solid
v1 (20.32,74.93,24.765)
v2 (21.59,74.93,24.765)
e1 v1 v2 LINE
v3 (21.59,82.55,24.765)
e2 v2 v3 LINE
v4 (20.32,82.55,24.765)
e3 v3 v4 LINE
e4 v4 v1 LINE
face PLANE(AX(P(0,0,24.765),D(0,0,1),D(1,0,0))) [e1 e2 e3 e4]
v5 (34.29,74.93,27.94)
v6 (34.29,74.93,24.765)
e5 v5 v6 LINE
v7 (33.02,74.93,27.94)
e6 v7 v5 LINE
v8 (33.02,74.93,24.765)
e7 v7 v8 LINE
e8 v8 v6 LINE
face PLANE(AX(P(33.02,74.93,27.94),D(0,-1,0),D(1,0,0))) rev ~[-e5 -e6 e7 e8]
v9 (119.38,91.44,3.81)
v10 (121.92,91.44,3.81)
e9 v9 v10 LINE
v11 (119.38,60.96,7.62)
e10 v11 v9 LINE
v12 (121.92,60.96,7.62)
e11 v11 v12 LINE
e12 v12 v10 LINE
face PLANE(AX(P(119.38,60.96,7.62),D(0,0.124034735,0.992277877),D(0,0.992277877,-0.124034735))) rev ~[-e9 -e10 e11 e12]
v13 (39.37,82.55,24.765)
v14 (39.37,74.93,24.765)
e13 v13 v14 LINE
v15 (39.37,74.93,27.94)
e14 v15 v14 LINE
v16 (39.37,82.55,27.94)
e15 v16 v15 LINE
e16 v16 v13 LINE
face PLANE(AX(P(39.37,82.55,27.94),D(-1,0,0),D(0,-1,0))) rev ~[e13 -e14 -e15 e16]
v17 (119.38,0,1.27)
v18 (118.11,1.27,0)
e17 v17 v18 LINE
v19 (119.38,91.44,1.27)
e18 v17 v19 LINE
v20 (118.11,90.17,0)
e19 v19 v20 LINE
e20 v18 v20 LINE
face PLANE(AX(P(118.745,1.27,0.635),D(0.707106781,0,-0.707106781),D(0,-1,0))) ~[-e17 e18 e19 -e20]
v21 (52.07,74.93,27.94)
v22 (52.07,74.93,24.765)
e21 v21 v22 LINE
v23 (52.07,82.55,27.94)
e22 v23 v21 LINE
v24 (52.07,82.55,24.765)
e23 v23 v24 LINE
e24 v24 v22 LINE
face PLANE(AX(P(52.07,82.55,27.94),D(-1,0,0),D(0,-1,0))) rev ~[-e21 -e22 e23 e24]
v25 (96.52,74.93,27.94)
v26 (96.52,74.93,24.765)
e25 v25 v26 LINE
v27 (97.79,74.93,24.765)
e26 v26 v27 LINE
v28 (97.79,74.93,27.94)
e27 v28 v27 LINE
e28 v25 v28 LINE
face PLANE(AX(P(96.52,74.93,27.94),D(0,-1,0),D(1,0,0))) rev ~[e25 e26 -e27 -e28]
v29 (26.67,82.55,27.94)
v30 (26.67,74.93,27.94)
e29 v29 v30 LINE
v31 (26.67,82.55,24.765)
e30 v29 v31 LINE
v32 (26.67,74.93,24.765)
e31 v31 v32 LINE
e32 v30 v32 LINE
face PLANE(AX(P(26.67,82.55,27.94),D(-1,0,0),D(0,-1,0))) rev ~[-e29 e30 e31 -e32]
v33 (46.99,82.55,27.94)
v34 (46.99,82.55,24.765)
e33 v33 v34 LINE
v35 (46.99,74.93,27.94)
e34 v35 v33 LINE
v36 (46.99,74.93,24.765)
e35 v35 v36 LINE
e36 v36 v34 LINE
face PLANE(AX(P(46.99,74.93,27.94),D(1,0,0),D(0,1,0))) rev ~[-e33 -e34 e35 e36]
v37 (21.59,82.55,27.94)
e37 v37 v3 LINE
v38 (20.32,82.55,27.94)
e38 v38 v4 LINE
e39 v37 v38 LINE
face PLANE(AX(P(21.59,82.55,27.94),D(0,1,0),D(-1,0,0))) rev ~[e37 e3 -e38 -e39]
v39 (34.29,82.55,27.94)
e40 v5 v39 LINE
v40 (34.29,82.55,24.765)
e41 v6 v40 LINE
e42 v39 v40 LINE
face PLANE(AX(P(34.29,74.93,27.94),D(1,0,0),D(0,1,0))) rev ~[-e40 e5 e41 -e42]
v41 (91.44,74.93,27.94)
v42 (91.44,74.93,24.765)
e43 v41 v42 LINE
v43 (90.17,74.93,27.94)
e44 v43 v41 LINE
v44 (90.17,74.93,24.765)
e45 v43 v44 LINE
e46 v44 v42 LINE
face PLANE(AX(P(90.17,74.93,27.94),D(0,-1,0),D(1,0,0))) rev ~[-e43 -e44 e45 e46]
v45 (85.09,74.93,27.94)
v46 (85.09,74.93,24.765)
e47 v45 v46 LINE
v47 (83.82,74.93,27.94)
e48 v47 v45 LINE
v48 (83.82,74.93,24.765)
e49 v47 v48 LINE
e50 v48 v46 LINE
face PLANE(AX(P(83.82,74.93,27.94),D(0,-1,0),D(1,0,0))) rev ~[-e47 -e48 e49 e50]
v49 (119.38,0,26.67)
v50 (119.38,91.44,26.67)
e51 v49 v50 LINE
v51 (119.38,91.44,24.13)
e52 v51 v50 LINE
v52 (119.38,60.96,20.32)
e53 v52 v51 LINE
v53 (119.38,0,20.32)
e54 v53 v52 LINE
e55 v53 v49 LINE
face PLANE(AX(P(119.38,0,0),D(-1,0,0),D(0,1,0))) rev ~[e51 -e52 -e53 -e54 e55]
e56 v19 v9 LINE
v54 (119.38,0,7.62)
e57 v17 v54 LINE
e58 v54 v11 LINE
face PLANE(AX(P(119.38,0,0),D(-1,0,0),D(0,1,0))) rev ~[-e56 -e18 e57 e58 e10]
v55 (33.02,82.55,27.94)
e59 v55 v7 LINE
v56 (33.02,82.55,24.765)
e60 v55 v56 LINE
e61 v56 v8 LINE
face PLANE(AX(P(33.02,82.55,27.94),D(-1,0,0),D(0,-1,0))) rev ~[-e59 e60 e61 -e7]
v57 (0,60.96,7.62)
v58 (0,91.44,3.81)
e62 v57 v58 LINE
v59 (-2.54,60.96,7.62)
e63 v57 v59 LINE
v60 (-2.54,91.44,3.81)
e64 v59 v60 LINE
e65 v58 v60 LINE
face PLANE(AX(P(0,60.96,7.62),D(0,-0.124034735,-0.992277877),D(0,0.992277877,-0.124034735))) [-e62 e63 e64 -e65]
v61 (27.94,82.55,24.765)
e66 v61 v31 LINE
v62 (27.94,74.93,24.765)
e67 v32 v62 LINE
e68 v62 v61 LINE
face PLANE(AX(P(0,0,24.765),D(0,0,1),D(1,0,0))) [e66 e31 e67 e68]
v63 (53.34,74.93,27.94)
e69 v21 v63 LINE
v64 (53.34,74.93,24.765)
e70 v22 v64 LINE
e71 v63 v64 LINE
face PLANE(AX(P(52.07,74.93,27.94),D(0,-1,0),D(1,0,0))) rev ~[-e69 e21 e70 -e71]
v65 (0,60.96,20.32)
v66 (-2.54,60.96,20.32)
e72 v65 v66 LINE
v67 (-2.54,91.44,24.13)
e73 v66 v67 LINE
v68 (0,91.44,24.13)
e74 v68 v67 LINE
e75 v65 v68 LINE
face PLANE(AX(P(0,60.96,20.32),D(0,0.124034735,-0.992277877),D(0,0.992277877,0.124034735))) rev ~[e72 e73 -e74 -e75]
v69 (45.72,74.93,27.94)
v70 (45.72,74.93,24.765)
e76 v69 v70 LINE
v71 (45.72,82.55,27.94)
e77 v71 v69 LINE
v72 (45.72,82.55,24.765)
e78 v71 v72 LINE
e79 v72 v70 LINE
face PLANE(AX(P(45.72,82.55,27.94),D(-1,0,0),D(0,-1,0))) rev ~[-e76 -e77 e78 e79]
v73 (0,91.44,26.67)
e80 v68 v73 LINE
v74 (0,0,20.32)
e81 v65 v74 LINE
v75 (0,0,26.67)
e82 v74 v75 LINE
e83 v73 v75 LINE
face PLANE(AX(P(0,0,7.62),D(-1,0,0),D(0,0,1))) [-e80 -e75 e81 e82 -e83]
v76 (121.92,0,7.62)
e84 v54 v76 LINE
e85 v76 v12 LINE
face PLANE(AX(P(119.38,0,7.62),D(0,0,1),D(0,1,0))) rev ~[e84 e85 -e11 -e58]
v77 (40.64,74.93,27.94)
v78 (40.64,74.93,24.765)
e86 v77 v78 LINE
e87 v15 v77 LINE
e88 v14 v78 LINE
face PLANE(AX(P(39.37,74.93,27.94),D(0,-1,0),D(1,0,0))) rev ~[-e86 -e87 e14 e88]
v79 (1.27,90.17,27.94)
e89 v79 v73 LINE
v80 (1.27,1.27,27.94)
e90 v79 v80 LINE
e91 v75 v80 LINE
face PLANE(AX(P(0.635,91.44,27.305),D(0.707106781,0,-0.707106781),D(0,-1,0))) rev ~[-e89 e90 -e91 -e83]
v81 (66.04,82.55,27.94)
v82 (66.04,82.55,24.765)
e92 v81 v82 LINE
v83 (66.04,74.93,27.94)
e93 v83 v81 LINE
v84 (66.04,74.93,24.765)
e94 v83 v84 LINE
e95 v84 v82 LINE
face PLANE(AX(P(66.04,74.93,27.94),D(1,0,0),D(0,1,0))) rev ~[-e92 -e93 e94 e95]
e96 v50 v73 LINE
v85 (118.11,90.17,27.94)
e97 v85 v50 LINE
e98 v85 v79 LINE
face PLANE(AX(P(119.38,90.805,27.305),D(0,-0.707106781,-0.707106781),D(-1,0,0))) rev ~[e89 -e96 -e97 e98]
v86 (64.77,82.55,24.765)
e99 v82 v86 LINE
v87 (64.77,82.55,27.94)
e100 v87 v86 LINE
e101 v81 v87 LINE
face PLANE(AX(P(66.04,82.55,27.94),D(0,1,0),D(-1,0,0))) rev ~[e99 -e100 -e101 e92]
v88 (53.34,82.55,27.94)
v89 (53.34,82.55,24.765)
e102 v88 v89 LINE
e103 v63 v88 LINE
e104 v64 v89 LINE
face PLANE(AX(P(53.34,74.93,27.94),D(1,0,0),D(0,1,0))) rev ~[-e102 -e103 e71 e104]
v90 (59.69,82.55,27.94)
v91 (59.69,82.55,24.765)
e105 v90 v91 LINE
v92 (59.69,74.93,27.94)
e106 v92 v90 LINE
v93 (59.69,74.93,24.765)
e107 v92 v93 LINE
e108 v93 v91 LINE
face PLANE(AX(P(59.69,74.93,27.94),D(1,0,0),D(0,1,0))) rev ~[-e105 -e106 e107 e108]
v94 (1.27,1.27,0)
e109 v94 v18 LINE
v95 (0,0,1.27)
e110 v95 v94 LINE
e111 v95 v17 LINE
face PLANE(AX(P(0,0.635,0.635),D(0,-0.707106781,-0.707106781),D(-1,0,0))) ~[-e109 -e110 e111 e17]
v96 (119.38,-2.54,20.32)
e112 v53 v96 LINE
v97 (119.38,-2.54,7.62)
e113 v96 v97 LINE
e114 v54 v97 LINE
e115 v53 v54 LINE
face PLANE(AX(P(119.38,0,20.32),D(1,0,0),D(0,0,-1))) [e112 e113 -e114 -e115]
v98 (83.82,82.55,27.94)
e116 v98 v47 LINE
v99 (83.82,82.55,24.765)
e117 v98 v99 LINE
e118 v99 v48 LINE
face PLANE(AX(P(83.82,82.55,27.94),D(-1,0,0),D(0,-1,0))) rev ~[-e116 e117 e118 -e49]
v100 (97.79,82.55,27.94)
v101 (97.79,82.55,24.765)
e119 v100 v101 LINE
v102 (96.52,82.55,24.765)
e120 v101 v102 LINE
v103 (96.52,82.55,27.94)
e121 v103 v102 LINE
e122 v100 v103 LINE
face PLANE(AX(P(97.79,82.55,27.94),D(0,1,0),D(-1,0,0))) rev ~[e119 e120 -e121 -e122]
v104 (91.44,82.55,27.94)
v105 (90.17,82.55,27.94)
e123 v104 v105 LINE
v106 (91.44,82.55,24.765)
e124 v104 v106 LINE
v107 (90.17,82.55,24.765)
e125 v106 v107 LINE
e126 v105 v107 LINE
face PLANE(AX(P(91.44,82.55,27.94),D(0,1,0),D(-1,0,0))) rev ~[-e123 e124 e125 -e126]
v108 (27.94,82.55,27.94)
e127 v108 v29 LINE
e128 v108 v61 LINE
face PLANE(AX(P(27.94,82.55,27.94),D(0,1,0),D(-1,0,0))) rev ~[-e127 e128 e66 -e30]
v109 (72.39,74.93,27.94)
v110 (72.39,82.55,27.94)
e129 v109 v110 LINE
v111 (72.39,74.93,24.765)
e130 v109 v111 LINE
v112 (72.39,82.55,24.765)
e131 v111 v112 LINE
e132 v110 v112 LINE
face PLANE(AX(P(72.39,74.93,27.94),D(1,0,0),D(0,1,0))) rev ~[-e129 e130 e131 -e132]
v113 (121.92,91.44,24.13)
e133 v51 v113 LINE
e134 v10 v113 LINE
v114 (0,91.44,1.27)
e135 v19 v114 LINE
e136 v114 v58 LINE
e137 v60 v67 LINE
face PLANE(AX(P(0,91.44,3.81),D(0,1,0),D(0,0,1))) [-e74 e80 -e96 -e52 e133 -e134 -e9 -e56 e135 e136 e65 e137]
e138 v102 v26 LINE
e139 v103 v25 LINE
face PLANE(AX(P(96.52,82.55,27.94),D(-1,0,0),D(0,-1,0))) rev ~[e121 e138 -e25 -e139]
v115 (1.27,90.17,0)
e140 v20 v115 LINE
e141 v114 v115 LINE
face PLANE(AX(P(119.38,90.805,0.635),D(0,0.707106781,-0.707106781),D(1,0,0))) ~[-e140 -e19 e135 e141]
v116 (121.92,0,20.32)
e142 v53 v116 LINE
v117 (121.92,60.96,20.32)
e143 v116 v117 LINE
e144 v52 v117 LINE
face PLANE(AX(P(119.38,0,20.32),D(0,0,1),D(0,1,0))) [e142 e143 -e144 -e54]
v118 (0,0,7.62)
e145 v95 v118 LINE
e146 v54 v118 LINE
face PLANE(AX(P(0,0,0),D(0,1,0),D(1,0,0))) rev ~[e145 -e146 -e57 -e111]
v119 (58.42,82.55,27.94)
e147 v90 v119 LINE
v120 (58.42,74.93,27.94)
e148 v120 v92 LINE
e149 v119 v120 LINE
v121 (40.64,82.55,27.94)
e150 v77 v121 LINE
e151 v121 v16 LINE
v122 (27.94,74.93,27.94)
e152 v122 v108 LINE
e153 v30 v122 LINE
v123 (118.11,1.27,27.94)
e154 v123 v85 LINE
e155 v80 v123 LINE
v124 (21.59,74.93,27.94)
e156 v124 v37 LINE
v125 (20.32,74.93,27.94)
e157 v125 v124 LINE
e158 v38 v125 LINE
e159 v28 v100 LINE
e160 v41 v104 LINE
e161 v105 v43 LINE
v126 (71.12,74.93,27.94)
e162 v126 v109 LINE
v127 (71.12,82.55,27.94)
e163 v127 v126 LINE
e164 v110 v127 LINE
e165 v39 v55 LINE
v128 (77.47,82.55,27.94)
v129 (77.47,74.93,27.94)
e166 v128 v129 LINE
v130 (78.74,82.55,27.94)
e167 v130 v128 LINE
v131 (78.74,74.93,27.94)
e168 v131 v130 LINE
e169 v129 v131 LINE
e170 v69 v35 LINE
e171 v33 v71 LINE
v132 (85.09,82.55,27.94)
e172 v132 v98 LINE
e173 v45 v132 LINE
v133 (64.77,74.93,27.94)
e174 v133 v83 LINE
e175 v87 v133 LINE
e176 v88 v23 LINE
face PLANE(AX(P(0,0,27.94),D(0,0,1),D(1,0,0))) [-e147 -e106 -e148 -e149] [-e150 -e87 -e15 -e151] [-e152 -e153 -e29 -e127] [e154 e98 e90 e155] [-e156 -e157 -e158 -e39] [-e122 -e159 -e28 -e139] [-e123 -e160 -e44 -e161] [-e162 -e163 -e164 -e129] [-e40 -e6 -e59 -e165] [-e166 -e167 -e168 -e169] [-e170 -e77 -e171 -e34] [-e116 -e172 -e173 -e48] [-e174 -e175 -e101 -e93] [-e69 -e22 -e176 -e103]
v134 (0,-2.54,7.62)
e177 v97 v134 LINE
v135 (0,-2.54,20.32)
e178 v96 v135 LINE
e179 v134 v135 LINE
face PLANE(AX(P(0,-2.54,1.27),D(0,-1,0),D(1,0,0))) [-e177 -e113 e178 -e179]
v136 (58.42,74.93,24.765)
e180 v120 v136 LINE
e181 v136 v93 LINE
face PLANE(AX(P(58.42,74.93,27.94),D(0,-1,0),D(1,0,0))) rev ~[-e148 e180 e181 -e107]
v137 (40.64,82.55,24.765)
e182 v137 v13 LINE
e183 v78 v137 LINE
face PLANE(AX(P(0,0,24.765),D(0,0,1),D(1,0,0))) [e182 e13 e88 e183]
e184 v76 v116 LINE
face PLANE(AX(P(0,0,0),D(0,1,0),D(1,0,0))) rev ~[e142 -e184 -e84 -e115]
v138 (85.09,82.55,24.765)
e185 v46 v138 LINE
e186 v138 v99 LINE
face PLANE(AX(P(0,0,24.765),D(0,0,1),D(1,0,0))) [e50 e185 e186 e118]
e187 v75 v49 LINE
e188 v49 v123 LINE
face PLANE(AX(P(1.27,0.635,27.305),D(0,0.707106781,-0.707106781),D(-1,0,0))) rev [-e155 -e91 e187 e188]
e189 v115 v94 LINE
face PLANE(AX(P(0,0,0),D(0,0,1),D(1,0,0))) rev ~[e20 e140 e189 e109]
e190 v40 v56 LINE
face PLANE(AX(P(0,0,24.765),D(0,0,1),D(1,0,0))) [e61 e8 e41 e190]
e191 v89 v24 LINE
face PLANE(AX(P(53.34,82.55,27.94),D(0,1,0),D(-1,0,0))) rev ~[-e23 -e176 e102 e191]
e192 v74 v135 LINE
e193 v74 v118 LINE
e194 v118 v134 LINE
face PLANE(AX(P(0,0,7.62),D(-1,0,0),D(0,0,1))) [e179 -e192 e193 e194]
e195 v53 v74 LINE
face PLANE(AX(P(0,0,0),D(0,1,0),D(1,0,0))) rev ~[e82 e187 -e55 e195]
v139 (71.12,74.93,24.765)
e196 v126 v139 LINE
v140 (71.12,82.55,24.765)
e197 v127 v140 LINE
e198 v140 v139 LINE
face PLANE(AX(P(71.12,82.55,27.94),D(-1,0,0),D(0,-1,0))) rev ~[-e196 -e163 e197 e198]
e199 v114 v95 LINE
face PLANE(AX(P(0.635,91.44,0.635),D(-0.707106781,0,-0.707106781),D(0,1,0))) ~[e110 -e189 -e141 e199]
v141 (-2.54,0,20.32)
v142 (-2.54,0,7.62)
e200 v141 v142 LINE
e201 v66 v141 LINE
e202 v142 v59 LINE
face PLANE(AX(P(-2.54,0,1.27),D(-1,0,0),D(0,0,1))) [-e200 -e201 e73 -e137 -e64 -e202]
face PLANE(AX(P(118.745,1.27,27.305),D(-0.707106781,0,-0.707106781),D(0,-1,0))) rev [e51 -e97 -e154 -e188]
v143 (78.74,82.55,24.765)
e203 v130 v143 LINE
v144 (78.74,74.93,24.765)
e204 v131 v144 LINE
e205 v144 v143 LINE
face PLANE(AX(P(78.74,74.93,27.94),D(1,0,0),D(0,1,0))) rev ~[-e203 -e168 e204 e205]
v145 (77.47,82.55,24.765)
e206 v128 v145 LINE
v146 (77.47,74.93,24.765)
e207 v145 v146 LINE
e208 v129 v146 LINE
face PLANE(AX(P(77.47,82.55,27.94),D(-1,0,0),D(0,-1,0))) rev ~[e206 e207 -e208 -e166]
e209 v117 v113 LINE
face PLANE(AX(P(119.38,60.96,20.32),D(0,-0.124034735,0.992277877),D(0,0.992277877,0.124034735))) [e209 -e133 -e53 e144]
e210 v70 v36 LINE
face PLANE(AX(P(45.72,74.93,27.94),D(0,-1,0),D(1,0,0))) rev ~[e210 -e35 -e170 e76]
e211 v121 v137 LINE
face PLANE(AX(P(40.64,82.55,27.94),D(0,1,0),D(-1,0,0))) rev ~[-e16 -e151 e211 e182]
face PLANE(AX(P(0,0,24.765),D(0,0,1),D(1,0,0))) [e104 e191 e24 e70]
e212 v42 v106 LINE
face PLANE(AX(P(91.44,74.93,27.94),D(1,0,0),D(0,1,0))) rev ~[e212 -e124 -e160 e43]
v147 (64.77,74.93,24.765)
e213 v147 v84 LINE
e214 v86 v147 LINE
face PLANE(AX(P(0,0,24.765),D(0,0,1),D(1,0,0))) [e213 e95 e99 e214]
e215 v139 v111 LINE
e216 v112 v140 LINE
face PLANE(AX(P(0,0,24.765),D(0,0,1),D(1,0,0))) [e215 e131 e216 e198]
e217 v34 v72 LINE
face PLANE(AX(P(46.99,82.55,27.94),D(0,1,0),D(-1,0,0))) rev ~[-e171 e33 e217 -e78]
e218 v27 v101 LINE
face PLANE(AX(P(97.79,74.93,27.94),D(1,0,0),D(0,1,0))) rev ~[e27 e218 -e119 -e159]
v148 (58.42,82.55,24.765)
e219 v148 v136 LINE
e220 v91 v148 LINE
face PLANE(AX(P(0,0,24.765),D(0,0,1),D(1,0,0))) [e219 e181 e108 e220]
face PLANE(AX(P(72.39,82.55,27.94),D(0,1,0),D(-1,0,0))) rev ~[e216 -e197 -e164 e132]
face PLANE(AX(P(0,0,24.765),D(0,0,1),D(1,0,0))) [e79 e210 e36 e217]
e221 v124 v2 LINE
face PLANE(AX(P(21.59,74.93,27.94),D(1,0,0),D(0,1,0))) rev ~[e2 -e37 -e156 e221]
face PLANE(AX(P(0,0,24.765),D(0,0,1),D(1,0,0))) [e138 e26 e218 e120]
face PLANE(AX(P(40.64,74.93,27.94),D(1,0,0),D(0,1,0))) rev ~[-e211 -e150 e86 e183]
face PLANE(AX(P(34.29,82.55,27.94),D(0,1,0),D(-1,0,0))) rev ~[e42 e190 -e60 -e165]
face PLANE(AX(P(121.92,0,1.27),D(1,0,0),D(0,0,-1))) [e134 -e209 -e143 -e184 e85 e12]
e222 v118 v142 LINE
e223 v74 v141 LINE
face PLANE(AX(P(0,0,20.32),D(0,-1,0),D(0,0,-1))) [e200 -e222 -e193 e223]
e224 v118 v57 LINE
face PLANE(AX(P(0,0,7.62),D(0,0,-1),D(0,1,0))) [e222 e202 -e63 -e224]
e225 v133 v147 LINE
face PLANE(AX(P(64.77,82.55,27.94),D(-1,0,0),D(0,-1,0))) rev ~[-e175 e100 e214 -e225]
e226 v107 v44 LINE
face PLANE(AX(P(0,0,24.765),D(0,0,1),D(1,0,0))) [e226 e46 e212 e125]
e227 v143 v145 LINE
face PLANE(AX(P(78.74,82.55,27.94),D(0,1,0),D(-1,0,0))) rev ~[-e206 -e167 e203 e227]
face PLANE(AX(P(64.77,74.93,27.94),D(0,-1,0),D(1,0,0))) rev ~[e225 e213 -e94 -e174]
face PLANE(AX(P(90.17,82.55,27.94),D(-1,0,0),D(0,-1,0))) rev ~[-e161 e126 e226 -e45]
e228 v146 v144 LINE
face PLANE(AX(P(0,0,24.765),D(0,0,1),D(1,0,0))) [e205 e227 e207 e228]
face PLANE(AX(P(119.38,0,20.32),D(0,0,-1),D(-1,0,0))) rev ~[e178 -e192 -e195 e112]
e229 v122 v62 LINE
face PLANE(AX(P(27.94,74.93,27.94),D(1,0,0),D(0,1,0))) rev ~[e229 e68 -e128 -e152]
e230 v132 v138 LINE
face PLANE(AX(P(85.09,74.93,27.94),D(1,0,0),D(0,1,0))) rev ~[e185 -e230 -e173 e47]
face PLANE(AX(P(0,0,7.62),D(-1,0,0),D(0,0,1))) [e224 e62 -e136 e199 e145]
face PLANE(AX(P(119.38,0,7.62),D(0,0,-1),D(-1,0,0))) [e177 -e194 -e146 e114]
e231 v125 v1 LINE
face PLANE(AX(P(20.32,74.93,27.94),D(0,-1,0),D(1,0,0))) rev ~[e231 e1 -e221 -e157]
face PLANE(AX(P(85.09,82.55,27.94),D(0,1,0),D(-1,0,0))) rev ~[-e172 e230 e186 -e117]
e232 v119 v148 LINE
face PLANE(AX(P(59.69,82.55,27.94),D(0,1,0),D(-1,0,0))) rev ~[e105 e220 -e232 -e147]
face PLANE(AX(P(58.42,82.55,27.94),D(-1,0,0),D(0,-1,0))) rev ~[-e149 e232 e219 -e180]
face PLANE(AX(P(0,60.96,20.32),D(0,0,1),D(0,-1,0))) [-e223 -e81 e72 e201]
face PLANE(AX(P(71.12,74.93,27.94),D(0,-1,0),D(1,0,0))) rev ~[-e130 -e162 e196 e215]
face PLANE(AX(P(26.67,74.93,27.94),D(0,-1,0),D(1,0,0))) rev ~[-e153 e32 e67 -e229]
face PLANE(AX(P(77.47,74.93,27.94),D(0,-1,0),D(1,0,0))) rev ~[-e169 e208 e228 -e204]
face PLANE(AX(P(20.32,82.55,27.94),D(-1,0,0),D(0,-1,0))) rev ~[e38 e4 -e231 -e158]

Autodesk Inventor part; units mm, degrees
ref_plane "YZ Plane" through (0, 0, 0) normal (1, 0, 0) x (0, 1, 0)
ref_plane "XZ Plane" through (0, 0, 0) normal (0, 1, 0) x (-1, 0, 0)
ref_plane "XY Plane" through (0, 0, 0) normal (0, 0, 1) x (1, 0, 0)
sketch "Sketch1" plane through (0, 0, 0) normal (0, 0, 1) x (1, 0, 0)
  line L0 (0, 0) -> (119.38, 0)
  line L1 (119.38, 0) -> (119.38, 91.44)
  line L2 (119.38, 91.44) -> (0, 91.44)
  line L3 (0, 91.44) -> (0, 0)
  dimension "d0" = 119.38
  dimension "d1" = 91.44
extrude "Extrusion1" add sketch "Sketch1" along normal blind 27.94
chamfer "Chamfer1" distance 1.27 angle 45 1 edges at (59.69, 0, 0)
chamfer "Chamfer2" distance 1.27 angle 45 1 edges at (0, 46.355, 0)
chamfer "Chamfer3" distance 1.27 angle 45 1 edges at (60.325, 91.44, 0)
chamfer "Chamfer4" distance 1.27 angle 45 1 edges at (119.38, 45.72, 0)
chamfer "Chamfer5" distance 1.27 angle 45 1 edges at (0, 45.72, 27.94)
chamfer "Chamfer6" distance 1.27 angle 45 1 edges at (60.325, 0, 27.94)
chamfer "Chamfer7" distance 1.27 angle 45 2 edges at (60.325, 91.44, 27.94) (119.38, 46.355, 27.94)
sketch "Sketch2" plane through (119.38, 0, 1.27) normal (1, 0, 0) x (0, 0, -1)
  line L0 (-25.4, 0) -> (-25.4, 91.44) projected
  line L1 (0, 0) -> (-25.4, 0) projected
  line L2 (-19.05, 0) -> (-19.05, 60.96)
  line L3 (-6.35, 0) -> (-6.35, 60.96)
  line L4 (-19.05, 0) -> (-6.35, 0)
  line L5 (-19.05, 60.96) -> (-22.86, 91.44)
  line L6 (0, 91.44) -> (-25.4, 91.44) projected
  line L7 (-6.35, 60.96) -> (-2.54, 91.44)
  line L8 (-22.86, 91.44) -> (-2.54, 91.44)
  dimension "d25" = 60.96
  dimension "d26" = 60.96
  dimension "d27" = 12.7
  dimension "d28" = 6.35
  dimension "d29" = 20.32
  dimension "d30" = 2.54
extrude "Extrusion2" add sketch "Sketch2" along normal blind 2.54 contours L2 L5 L6 L7 L3 L1
sketch "Sketch3" plane through (0, 0, 1.27) normal (0, -1, 0) x (1, 0, 0)
  line L0 (0, 0) -> (0, 25.4) projected
  line L1 (119.38, 19.05) -> (0, 19.05)
  line L2 (119.38, 6.35) -> (0, 6.35)
  line L3 (0, 19.05) -> (0, 6.35)
  line L4 (119.38, 19.05) -> (119.38, 6.35)
extrude "Extrusion3" add sketch "Sketch3" along normal blind 2.54
sketch "Sketch4" plane through (0, 0, 1.27) normal (-1, 0, 0) x (0, 0, 1)
  line L0 (25.4, 91.44) -> (25.4, 0) projected
  line L1 (0, 91.44) -> (25.4, 91.44) projected
  line L2 (0, 0) -> (0, 91.44) projected
  line L3 (0, 0) -> (6.35, 0) projected
  line L4 (6.35, 0) -> (6.35, -2.54) projected
  line L5 (19.05, -2.54) -> (6.35, -2.54) projected
  line L6 (19.05, 0) -> (19.05, -2.54) projected
  line L7 (19.05, 0) -> (25.4, 0) projected
sketch "Sketch5" plane through (121.92, 0, 1.27) normal (1, 0, 0) x (0, 0, -1)
  line L0 (-2.54, 91.44) -> (-22.86, 91.44) projected
  line L1 (-22.86, 91.44) -> (-19.05, 60.96) projected
  line L2 (-19.05, 60.96) -> (-19.05, 0) projected
  line L3 (-19.05, 0) -> (-6.35, 0) projected
  line L4 (-6.35, 0) -> (-6.35, 60.96) projected
  line L5 (-6.35, 60.96) -> (-2.54, 91.44) projected
sketch "Sketch6" plane through (0, 0, 1.27) normal (-1, 0, 0) x (0, 0, 1)
  line L0 (25.4, 91.44) -> (25.4, 0) projected
  line L1 (0, 91.44) -> (25.4, 91.44) projected
  line L2 (19.05, -2.54) -> (6.35, -2.54) projected
  line L3 (6.35, 0) -> (6.35, 60.96)
  line L4 (6.35, 0) -> (6.35, 60.96) projected
  line L5 (19.05, 60.96) -> (19.05, 0)
  line L6 (19.05, 0) -> (6.35, 0)
  line L7 (6.35, 60.96) -> (2.54, 91.44)
  line L8 (2.54, 91.44) -> (6.35, 60.96) projected
  line L9 (19.05, 60.96) -> (22.86, 91.44)
  line L10 (2.54, 91.44) -> (22.86, 91.44)
  dimension "d35" = 60.96
  dimension "d36" = 2.54
  dimension "d37" = 6.35
extrude "Extrusion4" add sketch "Sketch6" along normal blind 2.54
sketch "Sketch7" plane through (0, 0, 27.94) normal (0, 0, 1) x (1, 0, 0)
  line L0 (1.27, 90.17) -> (118.11, 90.17) projected
  line L1 (20.32, 82.55) -> (20.32, 74.93)
  line L2 (20.32, 74.93) -> (21.59, 74.93)
  line L3 (21.59, 74.93) -> (21.59, 82.55)
  line L4 (21.59, 82.55) -> (20.32, 82.55)
  line L5 (0, 91.44) -> (0, 0) projected
  line L6 (26.67, 82.55) -> (26.67, 74.93)
  line L7 (26.67, 74.93) -> (27.94, 74.93)
  line L8 (27.94, 74.93) -> (27.94, 82.55)
  line L9 (27.94, 82.55) -> (26.67, 82.55)
  line L10 (33.02, 82.55) -> (33.02, 74.93)
  line L11 (33.02, 74.93) -> (34.29, 74.93)
  line L12 (34.29, 74.93) -> (34.29, 82.55)
  line L13 (34.29, 82.55) -> (33.02, 82.55)
  line L14 (39.37, 82.55) -> (39.37, 74.93)
  line L15 (39.37, 74.93) -> (40.64, 74.93)
  line L16 (40.64, 74.93) -> (40.64, 82.55)
  line L17 (40.64, 82.55) -> (39.37, 82.55)
  line L18 (45.72, 82.55) -> (45.72, 74.93)
  line L19 (45.72, 74.93) -> (46.99, 74.93)
  line L20 (46.99, 74.93) -> (46.99, 82.55)
  line L21 (46.99, 82.55) -> (45.72, 82.55)
  line L22 (52.07, 82.55) -> (52.07, 74.93)
  line L23 (52.07, 74.93) -> (53.34, 74.93)
  line L24 (53.34, 74.93) -> (53.34, 82.55)
  line L25 (53.34, 82.55) -> (52.07, 82.55)
  line L26 (58.42, 82.55) -> (58.42, 74.93)
  line L27 (58.42, 74.93) -> (59.69, 74.93)
  line L28 (59.69, 74.93) -> (59.69, 82.55)
  line L29 (59.69, 82.55) -> (58.42, 82.55)
  line L30 (64.77, 82.55) -> (64.77, 74.93)
  line L31 (64.77, 74.93) -> (66.04, 74.93)
  line L32 (66.04, 74.93) -> (66.04, 82.55)
  line L33 (66.04, 82.55) -> (64.77, 82.55)
  line L34 (71.12, 82.55) -> (71.12, 74.93)
  line L35 (71.12, 74.93) -> (72.39, 74.93)
  line L36 (72.39, 74.93) -> (72.39, 82.55)
  line L37 (72.39, 82.55) -> (71.12, 82.55)
  line L38 (77.47, 82.55) -> (77.47, 74.93)
  line L39 (77.47, 74.93) -> (78.74, 74.93)
  line L40 (78.74, 74.93) -> (78.74, 82.55)
  line L41 (78.74, 82.55) -> (77.47, 82.55)
  line L42 (83.82, 82.55) -> (83.82, 74.93)
  line L43 (83.82, 74.93) -> (85.09, 74.93)
  line L44 (85.09, 74.93) -> (85.09, 82.55)
  line L45 (85.09, 82.55) -> (83.82, 82.55)
  line L46 (90.17, 82.55) -> (90.17, 74.93)
  line L47 (90.17, 74.93) -> (91.44, 74.93)
  line L48 (91.44, 74.93) -> (91.44, 82.55)
  line L49 (91.44, 82.55) -> (90.17, 82.55)
  line L50 (96.52, 82.55) -> (96.52, 74.93)
  line L51 (96.52, 74.93) -> (97.79, 74.93)
  line L52 (97.79, 74.93) -> (97.79, 82.55)
  line L53 (97.79, 82.55) -> (96.52, 82.55)
  dimension "d40" = 7.62
  dimension "d41" = 1.27
  dimension "d42" = 7.62
  dimension "d44" = 20.32
  dimension "d47" = 6.35
extrude "Extrusion5" cut sketch "Sketch7" against normal blind 3.175
properties part number "Wireless Router"
